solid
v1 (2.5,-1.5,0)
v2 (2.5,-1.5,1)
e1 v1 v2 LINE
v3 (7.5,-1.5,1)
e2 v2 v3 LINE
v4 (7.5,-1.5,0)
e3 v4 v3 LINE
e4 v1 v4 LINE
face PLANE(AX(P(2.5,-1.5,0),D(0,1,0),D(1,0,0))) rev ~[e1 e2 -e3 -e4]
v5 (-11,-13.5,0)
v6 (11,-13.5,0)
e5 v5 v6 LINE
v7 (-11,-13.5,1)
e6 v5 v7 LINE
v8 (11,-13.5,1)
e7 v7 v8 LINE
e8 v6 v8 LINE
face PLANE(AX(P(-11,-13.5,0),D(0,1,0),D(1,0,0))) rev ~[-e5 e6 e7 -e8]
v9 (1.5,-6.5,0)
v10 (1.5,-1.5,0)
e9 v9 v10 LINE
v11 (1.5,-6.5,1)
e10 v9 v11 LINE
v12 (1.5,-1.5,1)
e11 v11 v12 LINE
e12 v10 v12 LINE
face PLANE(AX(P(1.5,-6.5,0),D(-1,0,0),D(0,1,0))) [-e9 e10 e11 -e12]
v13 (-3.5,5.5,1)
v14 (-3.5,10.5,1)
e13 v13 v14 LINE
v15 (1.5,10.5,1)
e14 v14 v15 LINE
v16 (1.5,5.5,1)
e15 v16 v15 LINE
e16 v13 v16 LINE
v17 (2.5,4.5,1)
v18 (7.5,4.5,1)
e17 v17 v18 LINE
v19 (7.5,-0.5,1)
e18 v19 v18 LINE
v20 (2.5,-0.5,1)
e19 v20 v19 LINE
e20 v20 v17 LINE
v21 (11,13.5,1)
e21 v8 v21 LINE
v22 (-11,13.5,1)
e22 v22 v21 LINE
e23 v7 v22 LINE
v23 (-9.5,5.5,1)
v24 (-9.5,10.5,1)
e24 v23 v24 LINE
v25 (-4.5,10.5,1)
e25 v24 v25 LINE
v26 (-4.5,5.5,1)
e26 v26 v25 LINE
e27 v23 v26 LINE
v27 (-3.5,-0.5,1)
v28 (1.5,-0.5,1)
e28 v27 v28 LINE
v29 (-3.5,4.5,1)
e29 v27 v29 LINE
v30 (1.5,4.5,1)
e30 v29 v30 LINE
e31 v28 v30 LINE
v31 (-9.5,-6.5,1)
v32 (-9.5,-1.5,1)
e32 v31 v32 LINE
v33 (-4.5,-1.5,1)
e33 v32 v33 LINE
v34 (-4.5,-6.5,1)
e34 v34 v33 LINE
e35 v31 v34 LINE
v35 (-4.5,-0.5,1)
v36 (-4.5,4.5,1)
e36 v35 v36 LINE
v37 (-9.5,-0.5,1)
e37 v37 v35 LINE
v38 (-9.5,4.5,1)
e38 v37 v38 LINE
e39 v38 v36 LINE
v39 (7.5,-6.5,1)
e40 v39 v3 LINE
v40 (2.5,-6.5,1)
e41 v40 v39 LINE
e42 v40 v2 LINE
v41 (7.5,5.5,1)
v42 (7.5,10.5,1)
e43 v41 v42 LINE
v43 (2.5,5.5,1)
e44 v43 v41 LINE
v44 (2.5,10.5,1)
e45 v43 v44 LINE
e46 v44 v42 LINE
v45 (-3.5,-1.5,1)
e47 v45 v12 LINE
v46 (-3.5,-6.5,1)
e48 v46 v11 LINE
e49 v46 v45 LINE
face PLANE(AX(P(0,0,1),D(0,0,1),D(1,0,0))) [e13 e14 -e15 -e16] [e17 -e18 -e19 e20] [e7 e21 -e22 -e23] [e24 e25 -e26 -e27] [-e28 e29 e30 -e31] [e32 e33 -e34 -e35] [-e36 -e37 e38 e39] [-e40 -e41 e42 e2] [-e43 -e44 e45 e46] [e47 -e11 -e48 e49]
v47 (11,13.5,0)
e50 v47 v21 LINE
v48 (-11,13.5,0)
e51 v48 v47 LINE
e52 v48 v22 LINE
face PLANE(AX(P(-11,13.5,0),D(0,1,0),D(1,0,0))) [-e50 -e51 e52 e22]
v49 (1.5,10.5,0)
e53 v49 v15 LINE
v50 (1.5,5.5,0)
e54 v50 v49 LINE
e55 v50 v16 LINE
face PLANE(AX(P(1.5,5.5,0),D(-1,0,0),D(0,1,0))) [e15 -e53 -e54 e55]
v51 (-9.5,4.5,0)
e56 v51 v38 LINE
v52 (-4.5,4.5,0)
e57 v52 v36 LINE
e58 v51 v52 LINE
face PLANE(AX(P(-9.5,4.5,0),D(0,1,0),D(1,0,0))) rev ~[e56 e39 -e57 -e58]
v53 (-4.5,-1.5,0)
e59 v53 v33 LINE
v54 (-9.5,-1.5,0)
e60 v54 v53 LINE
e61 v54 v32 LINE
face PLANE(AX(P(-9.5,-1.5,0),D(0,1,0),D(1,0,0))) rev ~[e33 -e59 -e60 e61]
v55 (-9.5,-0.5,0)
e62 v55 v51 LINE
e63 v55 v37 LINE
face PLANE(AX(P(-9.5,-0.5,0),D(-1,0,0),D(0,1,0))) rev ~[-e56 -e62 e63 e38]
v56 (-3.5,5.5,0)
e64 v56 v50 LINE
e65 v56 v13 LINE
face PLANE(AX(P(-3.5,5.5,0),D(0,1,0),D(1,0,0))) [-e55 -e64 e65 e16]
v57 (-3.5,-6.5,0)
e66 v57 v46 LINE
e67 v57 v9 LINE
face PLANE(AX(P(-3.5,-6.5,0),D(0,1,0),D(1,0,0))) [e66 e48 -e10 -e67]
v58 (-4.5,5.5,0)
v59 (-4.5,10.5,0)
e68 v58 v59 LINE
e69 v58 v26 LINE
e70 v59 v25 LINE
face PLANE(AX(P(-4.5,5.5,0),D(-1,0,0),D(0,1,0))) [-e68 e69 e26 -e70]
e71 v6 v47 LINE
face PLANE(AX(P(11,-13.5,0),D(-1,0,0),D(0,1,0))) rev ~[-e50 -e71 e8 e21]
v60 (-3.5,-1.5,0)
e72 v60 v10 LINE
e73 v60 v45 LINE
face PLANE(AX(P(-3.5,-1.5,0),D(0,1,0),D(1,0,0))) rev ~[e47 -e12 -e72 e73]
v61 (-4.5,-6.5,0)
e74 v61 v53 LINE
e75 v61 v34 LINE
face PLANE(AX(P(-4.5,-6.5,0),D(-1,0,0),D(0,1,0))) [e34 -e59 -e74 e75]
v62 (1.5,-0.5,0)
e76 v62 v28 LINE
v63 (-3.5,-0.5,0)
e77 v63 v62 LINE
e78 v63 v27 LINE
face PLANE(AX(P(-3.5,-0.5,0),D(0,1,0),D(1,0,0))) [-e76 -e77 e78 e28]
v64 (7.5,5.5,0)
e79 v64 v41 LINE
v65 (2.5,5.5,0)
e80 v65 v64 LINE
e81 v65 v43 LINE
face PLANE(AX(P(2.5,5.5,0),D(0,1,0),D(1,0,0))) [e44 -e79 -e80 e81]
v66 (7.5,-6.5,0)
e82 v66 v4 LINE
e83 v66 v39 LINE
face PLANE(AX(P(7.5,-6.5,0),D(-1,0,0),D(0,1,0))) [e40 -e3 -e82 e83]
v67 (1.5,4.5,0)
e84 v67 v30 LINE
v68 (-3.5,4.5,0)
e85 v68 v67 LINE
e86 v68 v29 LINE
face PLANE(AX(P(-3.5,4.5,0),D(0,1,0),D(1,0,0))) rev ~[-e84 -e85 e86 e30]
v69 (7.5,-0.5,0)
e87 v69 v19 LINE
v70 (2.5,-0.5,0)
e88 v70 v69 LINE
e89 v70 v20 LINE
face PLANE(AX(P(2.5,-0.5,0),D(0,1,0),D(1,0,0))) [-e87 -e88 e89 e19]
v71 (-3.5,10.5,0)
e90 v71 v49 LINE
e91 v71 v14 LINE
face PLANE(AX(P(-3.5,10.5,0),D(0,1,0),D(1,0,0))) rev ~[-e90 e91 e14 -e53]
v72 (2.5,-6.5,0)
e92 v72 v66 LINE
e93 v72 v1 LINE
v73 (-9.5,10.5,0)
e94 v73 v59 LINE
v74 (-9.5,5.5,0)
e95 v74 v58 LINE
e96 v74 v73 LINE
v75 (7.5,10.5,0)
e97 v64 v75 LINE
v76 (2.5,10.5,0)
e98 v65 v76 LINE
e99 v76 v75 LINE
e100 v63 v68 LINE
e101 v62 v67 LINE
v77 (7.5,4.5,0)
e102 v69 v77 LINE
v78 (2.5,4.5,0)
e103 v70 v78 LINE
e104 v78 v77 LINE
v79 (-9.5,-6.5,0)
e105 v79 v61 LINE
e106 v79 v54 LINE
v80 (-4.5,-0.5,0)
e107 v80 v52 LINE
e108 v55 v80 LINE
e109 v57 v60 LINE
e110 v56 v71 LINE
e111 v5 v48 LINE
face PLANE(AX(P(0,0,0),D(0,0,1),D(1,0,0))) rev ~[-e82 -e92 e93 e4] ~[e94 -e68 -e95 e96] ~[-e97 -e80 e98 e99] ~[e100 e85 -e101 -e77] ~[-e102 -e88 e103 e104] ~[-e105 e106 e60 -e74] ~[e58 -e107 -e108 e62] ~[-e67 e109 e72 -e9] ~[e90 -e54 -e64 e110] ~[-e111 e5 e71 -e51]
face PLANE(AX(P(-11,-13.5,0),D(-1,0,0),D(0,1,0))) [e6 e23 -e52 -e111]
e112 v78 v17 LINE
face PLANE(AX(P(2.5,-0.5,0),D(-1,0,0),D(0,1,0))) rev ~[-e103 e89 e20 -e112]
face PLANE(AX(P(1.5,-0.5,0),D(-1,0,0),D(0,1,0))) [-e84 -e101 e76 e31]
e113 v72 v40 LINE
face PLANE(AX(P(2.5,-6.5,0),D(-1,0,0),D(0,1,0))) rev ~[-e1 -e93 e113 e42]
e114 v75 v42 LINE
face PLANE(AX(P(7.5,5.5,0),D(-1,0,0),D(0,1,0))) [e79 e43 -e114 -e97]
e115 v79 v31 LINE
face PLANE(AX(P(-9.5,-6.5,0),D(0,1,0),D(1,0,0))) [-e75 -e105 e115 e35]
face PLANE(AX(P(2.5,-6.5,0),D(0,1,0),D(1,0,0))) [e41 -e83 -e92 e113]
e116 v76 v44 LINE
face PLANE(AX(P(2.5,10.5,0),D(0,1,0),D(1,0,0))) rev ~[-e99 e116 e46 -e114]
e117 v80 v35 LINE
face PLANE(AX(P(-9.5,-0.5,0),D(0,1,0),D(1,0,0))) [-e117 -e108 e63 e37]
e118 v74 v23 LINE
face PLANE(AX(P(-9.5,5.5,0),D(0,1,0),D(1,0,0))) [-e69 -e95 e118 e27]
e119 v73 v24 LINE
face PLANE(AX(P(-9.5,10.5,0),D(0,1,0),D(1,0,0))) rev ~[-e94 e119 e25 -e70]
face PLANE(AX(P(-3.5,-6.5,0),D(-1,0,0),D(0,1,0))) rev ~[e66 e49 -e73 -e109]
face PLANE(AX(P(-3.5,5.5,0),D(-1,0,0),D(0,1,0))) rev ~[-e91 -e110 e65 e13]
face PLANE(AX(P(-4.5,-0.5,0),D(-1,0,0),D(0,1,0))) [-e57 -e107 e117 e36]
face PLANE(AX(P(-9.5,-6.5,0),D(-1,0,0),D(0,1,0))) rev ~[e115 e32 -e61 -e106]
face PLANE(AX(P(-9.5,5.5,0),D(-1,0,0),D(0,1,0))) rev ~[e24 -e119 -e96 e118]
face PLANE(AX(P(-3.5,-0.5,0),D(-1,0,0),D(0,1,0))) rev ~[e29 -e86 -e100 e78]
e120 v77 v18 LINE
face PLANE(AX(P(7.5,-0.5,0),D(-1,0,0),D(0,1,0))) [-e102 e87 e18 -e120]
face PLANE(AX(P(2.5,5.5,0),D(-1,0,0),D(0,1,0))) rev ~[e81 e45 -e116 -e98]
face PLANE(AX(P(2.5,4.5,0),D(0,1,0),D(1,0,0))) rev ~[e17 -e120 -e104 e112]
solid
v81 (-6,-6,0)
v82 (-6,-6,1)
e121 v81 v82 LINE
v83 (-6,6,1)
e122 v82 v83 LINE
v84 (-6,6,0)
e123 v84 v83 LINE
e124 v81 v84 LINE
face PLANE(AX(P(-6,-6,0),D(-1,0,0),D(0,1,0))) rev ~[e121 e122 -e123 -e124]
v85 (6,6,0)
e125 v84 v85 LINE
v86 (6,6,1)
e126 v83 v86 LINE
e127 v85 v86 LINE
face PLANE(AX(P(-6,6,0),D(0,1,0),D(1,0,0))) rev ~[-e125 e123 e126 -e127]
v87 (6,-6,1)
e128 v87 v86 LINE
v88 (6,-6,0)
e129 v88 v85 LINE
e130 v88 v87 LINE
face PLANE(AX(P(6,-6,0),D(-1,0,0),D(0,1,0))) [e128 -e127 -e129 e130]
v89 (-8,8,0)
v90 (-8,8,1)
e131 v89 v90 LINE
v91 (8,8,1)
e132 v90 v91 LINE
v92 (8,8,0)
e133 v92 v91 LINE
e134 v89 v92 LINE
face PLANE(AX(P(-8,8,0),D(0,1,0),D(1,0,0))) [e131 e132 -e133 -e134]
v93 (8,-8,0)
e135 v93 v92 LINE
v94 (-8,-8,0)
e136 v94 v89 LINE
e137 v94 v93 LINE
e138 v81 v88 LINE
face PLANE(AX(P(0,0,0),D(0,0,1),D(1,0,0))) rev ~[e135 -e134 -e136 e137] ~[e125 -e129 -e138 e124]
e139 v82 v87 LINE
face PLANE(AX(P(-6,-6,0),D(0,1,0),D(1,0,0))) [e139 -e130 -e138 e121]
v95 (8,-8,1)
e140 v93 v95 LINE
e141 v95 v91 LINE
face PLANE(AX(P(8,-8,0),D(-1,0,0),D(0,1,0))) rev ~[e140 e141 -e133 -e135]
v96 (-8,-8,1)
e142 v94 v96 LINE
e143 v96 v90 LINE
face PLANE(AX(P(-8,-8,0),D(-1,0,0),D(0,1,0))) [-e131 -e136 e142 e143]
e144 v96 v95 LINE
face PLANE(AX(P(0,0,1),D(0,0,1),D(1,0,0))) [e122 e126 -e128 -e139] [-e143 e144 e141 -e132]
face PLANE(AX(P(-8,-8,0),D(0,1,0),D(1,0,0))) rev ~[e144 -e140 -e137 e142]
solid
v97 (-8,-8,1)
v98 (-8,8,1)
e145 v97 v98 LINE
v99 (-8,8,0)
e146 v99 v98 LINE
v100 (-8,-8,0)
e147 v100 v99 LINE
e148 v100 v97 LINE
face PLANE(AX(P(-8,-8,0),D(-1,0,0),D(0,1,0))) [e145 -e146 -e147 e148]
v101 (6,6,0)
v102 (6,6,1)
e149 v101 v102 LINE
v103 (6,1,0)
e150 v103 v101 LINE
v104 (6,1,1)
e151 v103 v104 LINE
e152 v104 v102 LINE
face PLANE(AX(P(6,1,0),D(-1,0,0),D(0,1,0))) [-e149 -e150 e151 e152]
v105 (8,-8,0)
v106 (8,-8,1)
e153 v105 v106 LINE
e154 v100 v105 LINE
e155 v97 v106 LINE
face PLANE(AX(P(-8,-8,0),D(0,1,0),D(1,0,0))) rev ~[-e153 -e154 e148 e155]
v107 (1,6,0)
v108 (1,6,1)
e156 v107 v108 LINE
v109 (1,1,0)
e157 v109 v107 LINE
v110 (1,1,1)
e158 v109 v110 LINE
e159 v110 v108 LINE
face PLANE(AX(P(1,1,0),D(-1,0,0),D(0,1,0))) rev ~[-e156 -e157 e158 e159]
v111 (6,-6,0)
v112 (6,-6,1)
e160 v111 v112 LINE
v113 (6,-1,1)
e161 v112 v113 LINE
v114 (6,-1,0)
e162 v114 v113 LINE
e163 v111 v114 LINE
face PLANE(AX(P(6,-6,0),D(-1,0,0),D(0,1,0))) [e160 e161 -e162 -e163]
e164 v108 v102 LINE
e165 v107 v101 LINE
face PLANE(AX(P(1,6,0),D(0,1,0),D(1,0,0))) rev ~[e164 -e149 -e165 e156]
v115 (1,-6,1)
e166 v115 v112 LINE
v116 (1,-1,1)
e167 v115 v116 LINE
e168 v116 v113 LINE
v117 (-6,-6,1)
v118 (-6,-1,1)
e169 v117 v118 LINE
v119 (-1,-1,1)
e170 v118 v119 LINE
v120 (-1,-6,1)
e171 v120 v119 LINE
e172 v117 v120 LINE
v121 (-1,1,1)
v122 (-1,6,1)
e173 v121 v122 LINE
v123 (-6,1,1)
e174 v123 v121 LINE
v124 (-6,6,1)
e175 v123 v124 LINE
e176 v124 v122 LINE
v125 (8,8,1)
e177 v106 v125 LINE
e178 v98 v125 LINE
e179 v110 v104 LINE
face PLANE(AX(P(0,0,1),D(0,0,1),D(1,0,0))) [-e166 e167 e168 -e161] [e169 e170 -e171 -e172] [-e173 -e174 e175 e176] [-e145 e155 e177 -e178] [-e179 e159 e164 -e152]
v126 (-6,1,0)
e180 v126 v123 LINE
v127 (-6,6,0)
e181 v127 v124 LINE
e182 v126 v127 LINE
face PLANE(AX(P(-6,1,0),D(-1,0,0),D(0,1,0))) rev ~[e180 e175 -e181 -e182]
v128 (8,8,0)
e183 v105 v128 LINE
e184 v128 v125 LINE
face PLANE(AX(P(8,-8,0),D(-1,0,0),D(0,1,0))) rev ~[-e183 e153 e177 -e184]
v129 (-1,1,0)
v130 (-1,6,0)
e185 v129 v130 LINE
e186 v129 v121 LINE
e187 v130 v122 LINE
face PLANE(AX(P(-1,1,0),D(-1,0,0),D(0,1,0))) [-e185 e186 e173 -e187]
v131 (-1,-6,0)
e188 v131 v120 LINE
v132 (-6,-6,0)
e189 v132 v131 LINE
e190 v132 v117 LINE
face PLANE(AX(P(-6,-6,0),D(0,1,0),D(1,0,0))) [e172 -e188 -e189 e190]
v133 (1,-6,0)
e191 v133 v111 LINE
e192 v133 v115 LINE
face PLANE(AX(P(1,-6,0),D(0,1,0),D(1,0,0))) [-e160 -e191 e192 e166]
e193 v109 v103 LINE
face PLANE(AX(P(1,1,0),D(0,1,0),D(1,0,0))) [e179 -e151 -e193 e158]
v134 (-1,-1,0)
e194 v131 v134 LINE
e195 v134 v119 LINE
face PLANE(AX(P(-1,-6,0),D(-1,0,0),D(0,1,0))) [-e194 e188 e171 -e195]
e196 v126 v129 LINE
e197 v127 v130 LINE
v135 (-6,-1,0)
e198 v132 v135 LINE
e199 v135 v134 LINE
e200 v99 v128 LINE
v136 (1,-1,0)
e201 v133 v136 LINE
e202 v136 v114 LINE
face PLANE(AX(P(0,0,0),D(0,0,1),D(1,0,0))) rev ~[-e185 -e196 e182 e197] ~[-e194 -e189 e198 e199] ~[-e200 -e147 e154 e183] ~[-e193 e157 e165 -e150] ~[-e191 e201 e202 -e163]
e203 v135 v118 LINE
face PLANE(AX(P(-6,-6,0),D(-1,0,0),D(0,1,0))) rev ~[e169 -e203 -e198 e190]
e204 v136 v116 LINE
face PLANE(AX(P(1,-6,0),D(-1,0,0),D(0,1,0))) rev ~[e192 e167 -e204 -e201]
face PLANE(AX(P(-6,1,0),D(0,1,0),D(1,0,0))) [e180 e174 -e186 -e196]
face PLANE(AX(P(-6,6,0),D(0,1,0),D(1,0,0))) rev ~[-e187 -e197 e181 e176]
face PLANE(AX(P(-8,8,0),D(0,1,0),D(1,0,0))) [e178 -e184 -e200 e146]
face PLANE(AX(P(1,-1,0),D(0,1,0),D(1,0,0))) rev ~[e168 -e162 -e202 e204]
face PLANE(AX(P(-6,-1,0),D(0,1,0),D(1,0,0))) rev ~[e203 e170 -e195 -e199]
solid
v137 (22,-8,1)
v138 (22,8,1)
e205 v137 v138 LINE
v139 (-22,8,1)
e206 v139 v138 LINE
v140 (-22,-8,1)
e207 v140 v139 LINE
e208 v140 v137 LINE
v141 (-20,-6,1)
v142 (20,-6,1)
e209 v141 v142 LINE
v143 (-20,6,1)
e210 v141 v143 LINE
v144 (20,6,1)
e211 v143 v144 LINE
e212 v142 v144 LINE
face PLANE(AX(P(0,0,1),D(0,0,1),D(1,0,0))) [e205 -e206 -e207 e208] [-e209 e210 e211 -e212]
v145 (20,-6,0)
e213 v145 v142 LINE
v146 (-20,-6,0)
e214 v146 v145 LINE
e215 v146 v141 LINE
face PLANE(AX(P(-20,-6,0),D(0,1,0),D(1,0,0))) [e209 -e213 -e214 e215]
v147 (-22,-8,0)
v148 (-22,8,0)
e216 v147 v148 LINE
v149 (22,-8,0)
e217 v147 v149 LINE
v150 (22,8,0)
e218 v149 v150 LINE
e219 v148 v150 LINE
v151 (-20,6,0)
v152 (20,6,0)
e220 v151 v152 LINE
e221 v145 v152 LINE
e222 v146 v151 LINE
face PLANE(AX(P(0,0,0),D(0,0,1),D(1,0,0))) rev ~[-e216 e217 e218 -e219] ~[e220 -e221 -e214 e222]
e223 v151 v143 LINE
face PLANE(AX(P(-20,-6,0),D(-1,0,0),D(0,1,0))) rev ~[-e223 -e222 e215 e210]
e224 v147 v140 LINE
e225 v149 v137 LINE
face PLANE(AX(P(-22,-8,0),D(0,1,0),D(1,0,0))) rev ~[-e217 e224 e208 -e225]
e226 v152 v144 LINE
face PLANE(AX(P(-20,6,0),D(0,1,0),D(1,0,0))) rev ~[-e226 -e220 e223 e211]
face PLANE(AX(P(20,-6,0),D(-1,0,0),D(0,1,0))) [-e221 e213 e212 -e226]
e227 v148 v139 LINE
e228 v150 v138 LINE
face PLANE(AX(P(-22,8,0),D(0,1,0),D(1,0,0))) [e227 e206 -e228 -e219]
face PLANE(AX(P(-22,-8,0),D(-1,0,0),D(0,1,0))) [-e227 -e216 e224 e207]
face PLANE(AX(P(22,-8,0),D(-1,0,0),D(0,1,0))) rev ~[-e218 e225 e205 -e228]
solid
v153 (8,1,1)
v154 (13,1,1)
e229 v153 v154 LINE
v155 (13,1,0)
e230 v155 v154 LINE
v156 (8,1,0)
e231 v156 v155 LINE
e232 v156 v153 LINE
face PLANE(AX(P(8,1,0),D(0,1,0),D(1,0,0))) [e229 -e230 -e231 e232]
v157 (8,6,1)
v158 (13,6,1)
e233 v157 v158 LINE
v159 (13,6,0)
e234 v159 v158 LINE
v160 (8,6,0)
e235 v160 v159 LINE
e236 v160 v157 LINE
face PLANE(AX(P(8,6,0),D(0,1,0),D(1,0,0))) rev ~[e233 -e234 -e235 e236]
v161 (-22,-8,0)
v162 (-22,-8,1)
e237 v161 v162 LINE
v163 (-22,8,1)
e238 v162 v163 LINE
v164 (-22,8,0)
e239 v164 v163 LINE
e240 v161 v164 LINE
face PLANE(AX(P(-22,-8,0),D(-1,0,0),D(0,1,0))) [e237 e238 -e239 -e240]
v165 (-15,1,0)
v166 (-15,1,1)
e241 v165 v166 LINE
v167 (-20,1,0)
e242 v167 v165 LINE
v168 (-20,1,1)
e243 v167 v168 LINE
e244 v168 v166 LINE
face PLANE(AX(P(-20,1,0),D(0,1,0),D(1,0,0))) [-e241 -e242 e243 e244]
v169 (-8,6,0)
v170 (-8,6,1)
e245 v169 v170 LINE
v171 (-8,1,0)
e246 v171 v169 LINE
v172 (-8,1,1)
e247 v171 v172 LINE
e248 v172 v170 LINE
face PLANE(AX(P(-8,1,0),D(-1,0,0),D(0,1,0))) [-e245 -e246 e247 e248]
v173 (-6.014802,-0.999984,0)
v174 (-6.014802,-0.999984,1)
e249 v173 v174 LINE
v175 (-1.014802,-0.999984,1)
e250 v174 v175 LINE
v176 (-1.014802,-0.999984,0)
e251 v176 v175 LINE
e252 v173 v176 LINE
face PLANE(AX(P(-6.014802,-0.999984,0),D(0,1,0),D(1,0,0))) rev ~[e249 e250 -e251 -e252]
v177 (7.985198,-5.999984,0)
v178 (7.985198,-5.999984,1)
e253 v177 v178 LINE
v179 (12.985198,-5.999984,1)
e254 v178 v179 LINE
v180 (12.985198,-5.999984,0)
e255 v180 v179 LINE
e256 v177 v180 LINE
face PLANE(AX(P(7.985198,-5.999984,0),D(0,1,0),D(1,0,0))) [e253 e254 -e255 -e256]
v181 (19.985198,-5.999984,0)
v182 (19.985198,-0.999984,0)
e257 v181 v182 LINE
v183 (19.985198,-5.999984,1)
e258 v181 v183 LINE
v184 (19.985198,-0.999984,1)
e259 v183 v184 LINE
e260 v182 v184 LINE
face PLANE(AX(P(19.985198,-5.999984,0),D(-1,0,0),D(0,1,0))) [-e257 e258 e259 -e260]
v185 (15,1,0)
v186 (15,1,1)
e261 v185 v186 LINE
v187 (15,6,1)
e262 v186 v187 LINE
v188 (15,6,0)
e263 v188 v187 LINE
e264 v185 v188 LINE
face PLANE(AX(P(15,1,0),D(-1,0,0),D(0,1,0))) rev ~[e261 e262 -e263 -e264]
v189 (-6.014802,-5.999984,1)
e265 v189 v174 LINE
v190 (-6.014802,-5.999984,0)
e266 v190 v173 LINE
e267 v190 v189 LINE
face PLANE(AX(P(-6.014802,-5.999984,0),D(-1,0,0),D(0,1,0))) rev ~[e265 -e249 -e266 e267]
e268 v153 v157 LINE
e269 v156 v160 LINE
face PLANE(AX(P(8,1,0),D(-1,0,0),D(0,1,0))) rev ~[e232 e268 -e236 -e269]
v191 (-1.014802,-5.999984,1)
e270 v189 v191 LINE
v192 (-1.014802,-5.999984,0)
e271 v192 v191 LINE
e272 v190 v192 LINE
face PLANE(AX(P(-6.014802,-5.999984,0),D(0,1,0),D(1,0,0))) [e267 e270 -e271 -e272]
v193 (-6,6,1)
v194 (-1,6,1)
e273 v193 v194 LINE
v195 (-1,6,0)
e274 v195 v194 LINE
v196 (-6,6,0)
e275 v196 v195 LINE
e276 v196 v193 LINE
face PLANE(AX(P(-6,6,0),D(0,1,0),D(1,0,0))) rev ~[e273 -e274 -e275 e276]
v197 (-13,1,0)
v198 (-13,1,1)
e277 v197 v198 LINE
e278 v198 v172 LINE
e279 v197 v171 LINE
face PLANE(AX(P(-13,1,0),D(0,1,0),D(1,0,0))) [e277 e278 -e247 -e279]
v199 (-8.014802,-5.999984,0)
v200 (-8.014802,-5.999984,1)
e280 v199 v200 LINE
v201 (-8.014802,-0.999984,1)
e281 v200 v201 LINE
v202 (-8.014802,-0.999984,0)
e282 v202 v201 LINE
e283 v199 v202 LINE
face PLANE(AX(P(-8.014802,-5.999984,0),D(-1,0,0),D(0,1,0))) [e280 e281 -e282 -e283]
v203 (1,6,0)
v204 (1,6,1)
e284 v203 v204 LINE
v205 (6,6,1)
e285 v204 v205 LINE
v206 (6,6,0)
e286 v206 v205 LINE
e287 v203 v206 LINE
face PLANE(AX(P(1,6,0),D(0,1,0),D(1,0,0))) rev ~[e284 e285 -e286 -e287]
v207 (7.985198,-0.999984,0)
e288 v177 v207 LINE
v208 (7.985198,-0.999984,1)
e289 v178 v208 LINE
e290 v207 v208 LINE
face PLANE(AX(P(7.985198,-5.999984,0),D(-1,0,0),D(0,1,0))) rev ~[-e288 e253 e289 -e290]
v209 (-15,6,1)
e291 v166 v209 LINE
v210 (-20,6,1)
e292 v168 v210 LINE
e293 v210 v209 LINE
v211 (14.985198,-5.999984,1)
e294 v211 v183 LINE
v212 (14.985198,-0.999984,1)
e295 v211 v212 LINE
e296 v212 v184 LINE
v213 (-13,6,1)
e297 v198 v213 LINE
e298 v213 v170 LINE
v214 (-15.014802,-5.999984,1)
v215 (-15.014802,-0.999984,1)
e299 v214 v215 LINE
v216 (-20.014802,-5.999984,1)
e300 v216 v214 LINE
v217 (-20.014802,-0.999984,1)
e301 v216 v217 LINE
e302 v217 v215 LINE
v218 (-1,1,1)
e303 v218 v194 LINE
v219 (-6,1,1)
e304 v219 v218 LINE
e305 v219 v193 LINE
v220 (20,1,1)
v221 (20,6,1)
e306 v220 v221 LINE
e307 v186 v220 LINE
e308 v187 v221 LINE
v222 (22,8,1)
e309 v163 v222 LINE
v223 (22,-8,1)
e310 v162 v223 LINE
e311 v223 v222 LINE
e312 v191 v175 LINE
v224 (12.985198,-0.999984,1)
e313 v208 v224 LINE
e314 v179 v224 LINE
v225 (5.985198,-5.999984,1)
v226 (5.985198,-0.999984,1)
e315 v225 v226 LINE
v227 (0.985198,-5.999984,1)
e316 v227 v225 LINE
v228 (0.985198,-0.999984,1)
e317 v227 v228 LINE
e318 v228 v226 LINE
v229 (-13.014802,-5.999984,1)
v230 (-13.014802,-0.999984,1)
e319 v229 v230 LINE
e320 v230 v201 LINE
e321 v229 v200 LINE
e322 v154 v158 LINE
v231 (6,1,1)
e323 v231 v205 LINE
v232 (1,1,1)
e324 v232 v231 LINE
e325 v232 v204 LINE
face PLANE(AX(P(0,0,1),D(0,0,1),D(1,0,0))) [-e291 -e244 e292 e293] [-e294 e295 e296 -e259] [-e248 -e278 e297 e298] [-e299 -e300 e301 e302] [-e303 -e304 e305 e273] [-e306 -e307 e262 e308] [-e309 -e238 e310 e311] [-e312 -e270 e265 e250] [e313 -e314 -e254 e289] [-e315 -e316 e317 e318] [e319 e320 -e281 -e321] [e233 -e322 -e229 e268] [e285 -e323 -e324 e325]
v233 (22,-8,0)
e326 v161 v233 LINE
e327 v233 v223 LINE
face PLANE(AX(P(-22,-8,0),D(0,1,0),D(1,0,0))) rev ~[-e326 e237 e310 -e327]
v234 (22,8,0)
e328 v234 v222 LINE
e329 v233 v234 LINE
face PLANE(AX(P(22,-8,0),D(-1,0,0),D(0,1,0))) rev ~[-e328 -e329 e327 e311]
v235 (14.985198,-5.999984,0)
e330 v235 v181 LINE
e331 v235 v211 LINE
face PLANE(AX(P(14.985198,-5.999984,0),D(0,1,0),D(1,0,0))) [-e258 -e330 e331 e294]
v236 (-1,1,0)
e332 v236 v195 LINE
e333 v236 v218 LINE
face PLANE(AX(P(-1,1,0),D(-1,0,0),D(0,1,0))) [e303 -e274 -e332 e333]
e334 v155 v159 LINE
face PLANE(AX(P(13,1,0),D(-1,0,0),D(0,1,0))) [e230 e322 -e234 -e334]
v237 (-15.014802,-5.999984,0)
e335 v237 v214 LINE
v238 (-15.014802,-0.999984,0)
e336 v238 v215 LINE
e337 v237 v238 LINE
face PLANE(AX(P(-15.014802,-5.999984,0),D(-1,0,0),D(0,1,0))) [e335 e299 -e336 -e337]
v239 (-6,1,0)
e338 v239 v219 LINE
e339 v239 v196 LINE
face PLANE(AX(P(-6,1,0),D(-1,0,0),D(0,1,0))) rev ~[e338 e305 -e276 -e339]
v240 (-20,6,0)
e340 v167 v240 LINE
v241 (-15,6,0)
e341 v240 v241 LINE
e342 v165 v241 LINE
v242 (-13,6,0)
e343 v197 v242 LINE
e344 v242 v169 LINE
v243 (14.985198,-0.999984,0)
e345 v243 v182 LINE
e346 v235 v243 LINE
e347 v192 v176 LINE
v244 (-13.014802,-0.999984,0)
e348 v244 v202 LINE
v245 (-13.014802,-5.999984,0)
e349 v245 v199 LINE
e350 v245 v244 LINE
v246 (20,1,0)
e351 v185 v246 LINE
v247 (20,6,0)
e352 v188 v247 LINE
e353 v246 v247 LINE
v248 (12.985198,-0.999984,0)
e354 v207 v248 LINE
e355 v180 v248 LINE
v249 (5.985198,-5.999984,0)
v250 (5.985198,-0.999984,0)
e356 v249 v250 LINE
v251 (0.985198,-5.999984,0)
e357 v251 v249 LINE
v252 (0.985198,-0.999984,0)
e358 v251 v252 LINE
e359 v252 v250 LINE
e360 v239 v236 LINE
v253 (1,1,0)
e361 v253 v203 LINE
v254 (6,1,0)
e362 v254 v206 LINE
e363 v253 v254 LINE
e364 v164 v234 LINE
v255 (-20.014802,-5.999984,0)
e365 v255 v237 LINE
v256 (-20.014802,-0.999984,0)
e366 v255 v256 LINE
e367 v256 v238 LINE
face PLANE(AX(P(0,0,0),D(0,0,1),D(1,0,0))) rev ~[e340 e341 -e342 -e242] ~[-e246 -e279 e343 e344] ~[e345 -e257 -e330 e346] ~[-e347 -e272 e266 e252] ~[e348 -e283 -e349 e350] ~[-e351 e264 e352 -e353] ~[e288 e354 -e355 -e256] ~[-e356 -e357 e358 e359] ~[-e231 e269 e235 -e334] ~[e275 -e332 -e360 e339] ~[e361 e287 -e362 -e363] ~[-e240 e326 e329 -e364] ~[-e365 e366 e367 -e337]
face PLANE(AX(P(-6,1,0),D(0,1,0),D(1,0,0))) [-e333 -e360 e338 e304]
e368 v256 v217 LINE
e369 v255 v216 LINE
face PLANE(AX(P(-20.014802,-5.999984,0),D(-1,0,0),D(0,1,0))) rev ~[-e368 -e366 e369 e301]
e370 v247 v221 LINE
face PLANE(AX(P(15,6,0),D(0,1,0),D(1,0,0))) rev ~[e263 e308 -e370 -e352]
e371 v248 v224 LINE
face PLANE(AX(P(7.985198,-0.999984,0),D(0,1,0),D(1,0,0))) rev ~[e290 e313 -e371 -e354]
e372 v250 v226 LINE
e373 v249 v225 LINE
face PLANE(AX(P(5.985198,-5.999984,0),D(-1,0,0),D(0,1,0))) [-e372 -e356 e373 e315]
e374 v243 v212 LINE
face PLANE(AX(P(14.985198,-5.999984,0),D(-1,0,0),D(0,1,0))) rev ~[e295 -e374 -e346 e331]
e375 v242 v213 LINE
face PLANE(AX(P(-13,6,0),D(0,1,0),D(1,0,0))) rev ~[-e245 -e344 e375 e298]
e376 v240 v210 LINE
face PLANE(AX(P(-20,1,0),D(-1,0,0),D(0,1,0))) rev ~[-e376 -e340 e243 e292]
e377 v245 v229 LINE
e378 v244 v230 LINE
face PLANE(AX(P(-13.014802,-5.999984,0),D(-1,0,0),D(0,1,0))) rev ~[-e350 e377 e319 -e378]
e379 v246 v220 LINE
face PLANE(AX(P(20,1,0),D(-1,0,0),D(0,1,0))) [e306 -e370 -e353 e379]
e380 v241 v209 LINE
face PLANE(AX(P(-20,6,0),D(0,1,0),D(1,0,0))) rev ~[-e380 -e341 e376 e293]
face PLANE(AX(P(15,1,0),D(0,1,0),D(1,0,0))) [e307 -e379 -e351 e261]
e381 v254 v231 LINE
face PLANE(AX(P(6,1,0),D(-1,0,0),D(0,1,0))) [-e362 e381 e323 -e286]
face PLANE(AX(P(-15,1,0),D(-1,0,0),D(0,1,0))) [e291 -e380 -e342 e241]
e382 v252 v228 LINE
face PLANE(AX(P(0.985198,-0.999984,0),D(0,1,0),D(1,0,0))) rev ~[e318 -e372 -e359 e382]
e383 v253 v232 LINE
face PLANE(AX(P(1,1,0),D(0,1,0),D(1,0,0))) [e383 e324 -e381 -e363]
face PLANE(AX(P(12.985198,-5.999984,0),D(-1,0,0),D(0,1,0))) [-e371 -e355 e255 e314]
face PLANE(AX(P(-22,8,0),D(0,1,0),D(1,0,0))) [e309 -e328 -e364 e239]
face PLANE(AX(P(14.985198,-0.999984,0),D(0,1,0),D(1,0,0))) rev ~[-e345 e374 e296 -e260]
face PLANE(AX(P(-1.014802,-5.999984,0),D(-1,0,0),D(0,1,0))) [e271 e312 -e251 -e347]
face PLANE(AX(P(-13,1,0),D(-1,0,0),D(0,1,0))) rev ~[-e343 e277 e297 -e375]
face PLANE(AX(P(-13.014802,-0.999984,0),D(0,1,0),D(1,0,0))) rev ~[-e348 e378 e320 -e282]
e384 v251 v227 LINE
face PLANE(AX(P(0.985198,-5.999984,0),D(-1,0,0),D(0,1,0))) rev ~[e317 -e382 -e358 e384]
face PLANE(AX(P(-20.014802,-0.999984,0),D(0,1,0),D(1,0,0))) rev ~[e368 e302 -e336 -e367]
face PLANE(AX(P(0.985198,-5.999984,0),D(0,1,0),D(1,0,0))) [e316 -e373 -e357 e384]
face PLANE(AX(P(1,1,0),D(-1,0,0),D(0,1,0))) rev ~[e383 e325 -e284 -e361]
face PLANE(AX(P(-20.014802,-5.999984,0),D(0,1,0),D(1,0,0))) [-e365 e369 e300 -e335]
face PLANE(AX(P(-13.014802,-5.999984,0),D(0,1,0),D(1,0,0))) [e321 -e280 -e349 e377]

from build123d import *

# Parameters (mm, degrees)
F1_W     = 16
F1_H     = 16
F1_W_2   = 5
F1_H_2   = 5
F4_DEPTH = 1
F0_W     = 16
F0_H     = 16
F0_W_2   = 12
F0_H_2   = 12
F5_DEPTH = 1
F2_W     = 44
F2_H     = 16
F2_W_2   = 5
F2_H_2   = 5
F6_DEPTH = 1
F3_W     = 44
F3_H     = 16
F3_W_2   = 40
F3_H_2   = 12
F7_DEPTH = 1
F8_W     = 22
F8_H     = 27
F8_W_2   = 5
F8_H_2   = 5
F9_DEPTH = 1


with BuildPart() as f4:
    # F1 (on Top) → F4 (new body)
    with BuildSketch(Plane.XY):
        Rectangle(F1_W, F1_H)
        with Locations((-3.5, -3.5)):
            Rectangle(F1_W_2, F1_H_2, mode=Mode.SUBTRACT)
        with Locations((3.5, -3.5)):
            Rectangle(F1_W_2, F1_H_2, mode=Mode.SUBTRACT)
        with Locations((-3.5, 3.5)):
            Rectangle(F1_W_2, F1_H_2, mode=Mode.SUBTRACT)
        with Locations((3.5, 3.5)):
            Rectangle(F1_W_2, F1_H_2, mode=Mode.SUBTRACT)
    extrude(amount=F4_DEPTH)


with BuildPart() as f5:
    # F0 (on Top) → F5 (new body)
    with BuildSketch(Plane.XY):
        Rectangle(F0_W, F0_H)
        Rectangle(F0_W_2, F0_H_2, mode=Mode.SUBTRACT)
    extrude(amount=F5_DEPTH)


with BuildPart() as f6:
    # F2 (on Top) → F6 (new body)
    with BuildSketch(Plane.XY):
        Rectangle(F2_W, F2_H)
        with Locations((-17.514802, -3.499984)):
            Rectangle(F2_W_2, F2_H_2, mode=Mode.SUBTRACT)
        with Locations((-10.514802, -3.499984)):
            Rectangle(F2_W_2, F2_H_2, mode=Mode.SUBTRACT)
        with Locations((-3.514802, -3.499984)):
            Rectangle(F2_W_2, F2_H_2, mode=Mode.SUBTRACT)
        with Locations((3.485198, -3.499984)):
            Rectangle(F2_W_2, F2_H_2, mode=Mode.SUBTRACT)
        with Locations((10.485198, -3.499984)):
            Rectangle(F2_W_2, F2_H_2, mode=Mode.SUBTRACT)
        with Locations((17.485198, -3.499984)):
            Rectangle(F2_W_2, F2_H_2, mode=Mode.SUBTRACT)
        with Locations((-17.5, 3.5)):
            Rectangle(F2_W_2, F2_H_2, mode=Mode.SUBTRACT)
        with Locations((-10.5, 3.5)):
            Rectangle(F2_W_2, F2_H_2, mode=Mode.SUBTRACT)
        with Locations((-3.5, 3.5)):
            Rectangle(F2_W_2, F2_H_2, mode=Mode.SUBTRACT)
        with Locations((3.5, 3.5)):
            Rectangle(F2_W_2, F2_H_2, mode=Mode.SUBTRACT)
        with Locations((10.5, 3.5)):
            Rectangle(F2_W_2, F2_H_2, mode=Mode.SUBTRACT)
        with Locations((17.5, 3.5)):
            Rectangle(F2_W_2, F2_H_2, mode=Mode.SUBTRACT)
    extrude(amount=F6_DEPTH)


with BuildPart() as f7:
    # F3 (on Top) → F7 (new body)
    with BuildSketch(Plane.XY):
        Rectangle(F3_W, F3_H)
        Rectangle(F3_W_2, F3_H_2, mode=Mode.SUBTRACT)
    extrude(amount=F7_DEPTH)


with BuildPart() as f9:
    # F8 (on Top) → F9 (new body)
    with BuildSketch(Plane.XY):
        Rectangle(F8_W, F8_H)
        with Locations((-7, -4)):
            Rectangle(F8_W_2, F8_H_2, mode=Mode.SUBTRACT)
        with Locations((-1, -4)):
            Rectangle(F8_W_2, F8_H_2, mode=Mode.SUBTRACT)
        with Locations((5, -4)):
            Rectangle(F8_W_2, F8_H_2, mode=Mode.SUBTRACT)
        with Locations((-7, 2)):
            Rectangle(F8_W_2, F8_H_2, mode=Mode.SUBTRACT)
        with Locations((-1, 2)):
            Rectangle(F8_W_2, F8_H_2, mode=Mode.SUBTRACT)
        with Locations((-7, 8)):
            Rectangle(F8_W_2, F8_H_2, mode=Mode.SUBTRACT)
        with Locations((-1, 8)):
            Rectangle(F8_W_2, F8_H_2, mode=Mode.SUBTRACT)
        with Locations((5, 2)):
            Rectangle(F8_W_2, F8_H_2, mode=Mode.SUBTRACT)
        with Locations((5, 8)):
            Rectangle(F8_W_2, F8_H_2, mode=Mode.SUBTRACT)
    extrude(amount=F9_DEPTH)


solid = Compound([f4.part, f5.part, f6.part, f7.part, f9.part])
